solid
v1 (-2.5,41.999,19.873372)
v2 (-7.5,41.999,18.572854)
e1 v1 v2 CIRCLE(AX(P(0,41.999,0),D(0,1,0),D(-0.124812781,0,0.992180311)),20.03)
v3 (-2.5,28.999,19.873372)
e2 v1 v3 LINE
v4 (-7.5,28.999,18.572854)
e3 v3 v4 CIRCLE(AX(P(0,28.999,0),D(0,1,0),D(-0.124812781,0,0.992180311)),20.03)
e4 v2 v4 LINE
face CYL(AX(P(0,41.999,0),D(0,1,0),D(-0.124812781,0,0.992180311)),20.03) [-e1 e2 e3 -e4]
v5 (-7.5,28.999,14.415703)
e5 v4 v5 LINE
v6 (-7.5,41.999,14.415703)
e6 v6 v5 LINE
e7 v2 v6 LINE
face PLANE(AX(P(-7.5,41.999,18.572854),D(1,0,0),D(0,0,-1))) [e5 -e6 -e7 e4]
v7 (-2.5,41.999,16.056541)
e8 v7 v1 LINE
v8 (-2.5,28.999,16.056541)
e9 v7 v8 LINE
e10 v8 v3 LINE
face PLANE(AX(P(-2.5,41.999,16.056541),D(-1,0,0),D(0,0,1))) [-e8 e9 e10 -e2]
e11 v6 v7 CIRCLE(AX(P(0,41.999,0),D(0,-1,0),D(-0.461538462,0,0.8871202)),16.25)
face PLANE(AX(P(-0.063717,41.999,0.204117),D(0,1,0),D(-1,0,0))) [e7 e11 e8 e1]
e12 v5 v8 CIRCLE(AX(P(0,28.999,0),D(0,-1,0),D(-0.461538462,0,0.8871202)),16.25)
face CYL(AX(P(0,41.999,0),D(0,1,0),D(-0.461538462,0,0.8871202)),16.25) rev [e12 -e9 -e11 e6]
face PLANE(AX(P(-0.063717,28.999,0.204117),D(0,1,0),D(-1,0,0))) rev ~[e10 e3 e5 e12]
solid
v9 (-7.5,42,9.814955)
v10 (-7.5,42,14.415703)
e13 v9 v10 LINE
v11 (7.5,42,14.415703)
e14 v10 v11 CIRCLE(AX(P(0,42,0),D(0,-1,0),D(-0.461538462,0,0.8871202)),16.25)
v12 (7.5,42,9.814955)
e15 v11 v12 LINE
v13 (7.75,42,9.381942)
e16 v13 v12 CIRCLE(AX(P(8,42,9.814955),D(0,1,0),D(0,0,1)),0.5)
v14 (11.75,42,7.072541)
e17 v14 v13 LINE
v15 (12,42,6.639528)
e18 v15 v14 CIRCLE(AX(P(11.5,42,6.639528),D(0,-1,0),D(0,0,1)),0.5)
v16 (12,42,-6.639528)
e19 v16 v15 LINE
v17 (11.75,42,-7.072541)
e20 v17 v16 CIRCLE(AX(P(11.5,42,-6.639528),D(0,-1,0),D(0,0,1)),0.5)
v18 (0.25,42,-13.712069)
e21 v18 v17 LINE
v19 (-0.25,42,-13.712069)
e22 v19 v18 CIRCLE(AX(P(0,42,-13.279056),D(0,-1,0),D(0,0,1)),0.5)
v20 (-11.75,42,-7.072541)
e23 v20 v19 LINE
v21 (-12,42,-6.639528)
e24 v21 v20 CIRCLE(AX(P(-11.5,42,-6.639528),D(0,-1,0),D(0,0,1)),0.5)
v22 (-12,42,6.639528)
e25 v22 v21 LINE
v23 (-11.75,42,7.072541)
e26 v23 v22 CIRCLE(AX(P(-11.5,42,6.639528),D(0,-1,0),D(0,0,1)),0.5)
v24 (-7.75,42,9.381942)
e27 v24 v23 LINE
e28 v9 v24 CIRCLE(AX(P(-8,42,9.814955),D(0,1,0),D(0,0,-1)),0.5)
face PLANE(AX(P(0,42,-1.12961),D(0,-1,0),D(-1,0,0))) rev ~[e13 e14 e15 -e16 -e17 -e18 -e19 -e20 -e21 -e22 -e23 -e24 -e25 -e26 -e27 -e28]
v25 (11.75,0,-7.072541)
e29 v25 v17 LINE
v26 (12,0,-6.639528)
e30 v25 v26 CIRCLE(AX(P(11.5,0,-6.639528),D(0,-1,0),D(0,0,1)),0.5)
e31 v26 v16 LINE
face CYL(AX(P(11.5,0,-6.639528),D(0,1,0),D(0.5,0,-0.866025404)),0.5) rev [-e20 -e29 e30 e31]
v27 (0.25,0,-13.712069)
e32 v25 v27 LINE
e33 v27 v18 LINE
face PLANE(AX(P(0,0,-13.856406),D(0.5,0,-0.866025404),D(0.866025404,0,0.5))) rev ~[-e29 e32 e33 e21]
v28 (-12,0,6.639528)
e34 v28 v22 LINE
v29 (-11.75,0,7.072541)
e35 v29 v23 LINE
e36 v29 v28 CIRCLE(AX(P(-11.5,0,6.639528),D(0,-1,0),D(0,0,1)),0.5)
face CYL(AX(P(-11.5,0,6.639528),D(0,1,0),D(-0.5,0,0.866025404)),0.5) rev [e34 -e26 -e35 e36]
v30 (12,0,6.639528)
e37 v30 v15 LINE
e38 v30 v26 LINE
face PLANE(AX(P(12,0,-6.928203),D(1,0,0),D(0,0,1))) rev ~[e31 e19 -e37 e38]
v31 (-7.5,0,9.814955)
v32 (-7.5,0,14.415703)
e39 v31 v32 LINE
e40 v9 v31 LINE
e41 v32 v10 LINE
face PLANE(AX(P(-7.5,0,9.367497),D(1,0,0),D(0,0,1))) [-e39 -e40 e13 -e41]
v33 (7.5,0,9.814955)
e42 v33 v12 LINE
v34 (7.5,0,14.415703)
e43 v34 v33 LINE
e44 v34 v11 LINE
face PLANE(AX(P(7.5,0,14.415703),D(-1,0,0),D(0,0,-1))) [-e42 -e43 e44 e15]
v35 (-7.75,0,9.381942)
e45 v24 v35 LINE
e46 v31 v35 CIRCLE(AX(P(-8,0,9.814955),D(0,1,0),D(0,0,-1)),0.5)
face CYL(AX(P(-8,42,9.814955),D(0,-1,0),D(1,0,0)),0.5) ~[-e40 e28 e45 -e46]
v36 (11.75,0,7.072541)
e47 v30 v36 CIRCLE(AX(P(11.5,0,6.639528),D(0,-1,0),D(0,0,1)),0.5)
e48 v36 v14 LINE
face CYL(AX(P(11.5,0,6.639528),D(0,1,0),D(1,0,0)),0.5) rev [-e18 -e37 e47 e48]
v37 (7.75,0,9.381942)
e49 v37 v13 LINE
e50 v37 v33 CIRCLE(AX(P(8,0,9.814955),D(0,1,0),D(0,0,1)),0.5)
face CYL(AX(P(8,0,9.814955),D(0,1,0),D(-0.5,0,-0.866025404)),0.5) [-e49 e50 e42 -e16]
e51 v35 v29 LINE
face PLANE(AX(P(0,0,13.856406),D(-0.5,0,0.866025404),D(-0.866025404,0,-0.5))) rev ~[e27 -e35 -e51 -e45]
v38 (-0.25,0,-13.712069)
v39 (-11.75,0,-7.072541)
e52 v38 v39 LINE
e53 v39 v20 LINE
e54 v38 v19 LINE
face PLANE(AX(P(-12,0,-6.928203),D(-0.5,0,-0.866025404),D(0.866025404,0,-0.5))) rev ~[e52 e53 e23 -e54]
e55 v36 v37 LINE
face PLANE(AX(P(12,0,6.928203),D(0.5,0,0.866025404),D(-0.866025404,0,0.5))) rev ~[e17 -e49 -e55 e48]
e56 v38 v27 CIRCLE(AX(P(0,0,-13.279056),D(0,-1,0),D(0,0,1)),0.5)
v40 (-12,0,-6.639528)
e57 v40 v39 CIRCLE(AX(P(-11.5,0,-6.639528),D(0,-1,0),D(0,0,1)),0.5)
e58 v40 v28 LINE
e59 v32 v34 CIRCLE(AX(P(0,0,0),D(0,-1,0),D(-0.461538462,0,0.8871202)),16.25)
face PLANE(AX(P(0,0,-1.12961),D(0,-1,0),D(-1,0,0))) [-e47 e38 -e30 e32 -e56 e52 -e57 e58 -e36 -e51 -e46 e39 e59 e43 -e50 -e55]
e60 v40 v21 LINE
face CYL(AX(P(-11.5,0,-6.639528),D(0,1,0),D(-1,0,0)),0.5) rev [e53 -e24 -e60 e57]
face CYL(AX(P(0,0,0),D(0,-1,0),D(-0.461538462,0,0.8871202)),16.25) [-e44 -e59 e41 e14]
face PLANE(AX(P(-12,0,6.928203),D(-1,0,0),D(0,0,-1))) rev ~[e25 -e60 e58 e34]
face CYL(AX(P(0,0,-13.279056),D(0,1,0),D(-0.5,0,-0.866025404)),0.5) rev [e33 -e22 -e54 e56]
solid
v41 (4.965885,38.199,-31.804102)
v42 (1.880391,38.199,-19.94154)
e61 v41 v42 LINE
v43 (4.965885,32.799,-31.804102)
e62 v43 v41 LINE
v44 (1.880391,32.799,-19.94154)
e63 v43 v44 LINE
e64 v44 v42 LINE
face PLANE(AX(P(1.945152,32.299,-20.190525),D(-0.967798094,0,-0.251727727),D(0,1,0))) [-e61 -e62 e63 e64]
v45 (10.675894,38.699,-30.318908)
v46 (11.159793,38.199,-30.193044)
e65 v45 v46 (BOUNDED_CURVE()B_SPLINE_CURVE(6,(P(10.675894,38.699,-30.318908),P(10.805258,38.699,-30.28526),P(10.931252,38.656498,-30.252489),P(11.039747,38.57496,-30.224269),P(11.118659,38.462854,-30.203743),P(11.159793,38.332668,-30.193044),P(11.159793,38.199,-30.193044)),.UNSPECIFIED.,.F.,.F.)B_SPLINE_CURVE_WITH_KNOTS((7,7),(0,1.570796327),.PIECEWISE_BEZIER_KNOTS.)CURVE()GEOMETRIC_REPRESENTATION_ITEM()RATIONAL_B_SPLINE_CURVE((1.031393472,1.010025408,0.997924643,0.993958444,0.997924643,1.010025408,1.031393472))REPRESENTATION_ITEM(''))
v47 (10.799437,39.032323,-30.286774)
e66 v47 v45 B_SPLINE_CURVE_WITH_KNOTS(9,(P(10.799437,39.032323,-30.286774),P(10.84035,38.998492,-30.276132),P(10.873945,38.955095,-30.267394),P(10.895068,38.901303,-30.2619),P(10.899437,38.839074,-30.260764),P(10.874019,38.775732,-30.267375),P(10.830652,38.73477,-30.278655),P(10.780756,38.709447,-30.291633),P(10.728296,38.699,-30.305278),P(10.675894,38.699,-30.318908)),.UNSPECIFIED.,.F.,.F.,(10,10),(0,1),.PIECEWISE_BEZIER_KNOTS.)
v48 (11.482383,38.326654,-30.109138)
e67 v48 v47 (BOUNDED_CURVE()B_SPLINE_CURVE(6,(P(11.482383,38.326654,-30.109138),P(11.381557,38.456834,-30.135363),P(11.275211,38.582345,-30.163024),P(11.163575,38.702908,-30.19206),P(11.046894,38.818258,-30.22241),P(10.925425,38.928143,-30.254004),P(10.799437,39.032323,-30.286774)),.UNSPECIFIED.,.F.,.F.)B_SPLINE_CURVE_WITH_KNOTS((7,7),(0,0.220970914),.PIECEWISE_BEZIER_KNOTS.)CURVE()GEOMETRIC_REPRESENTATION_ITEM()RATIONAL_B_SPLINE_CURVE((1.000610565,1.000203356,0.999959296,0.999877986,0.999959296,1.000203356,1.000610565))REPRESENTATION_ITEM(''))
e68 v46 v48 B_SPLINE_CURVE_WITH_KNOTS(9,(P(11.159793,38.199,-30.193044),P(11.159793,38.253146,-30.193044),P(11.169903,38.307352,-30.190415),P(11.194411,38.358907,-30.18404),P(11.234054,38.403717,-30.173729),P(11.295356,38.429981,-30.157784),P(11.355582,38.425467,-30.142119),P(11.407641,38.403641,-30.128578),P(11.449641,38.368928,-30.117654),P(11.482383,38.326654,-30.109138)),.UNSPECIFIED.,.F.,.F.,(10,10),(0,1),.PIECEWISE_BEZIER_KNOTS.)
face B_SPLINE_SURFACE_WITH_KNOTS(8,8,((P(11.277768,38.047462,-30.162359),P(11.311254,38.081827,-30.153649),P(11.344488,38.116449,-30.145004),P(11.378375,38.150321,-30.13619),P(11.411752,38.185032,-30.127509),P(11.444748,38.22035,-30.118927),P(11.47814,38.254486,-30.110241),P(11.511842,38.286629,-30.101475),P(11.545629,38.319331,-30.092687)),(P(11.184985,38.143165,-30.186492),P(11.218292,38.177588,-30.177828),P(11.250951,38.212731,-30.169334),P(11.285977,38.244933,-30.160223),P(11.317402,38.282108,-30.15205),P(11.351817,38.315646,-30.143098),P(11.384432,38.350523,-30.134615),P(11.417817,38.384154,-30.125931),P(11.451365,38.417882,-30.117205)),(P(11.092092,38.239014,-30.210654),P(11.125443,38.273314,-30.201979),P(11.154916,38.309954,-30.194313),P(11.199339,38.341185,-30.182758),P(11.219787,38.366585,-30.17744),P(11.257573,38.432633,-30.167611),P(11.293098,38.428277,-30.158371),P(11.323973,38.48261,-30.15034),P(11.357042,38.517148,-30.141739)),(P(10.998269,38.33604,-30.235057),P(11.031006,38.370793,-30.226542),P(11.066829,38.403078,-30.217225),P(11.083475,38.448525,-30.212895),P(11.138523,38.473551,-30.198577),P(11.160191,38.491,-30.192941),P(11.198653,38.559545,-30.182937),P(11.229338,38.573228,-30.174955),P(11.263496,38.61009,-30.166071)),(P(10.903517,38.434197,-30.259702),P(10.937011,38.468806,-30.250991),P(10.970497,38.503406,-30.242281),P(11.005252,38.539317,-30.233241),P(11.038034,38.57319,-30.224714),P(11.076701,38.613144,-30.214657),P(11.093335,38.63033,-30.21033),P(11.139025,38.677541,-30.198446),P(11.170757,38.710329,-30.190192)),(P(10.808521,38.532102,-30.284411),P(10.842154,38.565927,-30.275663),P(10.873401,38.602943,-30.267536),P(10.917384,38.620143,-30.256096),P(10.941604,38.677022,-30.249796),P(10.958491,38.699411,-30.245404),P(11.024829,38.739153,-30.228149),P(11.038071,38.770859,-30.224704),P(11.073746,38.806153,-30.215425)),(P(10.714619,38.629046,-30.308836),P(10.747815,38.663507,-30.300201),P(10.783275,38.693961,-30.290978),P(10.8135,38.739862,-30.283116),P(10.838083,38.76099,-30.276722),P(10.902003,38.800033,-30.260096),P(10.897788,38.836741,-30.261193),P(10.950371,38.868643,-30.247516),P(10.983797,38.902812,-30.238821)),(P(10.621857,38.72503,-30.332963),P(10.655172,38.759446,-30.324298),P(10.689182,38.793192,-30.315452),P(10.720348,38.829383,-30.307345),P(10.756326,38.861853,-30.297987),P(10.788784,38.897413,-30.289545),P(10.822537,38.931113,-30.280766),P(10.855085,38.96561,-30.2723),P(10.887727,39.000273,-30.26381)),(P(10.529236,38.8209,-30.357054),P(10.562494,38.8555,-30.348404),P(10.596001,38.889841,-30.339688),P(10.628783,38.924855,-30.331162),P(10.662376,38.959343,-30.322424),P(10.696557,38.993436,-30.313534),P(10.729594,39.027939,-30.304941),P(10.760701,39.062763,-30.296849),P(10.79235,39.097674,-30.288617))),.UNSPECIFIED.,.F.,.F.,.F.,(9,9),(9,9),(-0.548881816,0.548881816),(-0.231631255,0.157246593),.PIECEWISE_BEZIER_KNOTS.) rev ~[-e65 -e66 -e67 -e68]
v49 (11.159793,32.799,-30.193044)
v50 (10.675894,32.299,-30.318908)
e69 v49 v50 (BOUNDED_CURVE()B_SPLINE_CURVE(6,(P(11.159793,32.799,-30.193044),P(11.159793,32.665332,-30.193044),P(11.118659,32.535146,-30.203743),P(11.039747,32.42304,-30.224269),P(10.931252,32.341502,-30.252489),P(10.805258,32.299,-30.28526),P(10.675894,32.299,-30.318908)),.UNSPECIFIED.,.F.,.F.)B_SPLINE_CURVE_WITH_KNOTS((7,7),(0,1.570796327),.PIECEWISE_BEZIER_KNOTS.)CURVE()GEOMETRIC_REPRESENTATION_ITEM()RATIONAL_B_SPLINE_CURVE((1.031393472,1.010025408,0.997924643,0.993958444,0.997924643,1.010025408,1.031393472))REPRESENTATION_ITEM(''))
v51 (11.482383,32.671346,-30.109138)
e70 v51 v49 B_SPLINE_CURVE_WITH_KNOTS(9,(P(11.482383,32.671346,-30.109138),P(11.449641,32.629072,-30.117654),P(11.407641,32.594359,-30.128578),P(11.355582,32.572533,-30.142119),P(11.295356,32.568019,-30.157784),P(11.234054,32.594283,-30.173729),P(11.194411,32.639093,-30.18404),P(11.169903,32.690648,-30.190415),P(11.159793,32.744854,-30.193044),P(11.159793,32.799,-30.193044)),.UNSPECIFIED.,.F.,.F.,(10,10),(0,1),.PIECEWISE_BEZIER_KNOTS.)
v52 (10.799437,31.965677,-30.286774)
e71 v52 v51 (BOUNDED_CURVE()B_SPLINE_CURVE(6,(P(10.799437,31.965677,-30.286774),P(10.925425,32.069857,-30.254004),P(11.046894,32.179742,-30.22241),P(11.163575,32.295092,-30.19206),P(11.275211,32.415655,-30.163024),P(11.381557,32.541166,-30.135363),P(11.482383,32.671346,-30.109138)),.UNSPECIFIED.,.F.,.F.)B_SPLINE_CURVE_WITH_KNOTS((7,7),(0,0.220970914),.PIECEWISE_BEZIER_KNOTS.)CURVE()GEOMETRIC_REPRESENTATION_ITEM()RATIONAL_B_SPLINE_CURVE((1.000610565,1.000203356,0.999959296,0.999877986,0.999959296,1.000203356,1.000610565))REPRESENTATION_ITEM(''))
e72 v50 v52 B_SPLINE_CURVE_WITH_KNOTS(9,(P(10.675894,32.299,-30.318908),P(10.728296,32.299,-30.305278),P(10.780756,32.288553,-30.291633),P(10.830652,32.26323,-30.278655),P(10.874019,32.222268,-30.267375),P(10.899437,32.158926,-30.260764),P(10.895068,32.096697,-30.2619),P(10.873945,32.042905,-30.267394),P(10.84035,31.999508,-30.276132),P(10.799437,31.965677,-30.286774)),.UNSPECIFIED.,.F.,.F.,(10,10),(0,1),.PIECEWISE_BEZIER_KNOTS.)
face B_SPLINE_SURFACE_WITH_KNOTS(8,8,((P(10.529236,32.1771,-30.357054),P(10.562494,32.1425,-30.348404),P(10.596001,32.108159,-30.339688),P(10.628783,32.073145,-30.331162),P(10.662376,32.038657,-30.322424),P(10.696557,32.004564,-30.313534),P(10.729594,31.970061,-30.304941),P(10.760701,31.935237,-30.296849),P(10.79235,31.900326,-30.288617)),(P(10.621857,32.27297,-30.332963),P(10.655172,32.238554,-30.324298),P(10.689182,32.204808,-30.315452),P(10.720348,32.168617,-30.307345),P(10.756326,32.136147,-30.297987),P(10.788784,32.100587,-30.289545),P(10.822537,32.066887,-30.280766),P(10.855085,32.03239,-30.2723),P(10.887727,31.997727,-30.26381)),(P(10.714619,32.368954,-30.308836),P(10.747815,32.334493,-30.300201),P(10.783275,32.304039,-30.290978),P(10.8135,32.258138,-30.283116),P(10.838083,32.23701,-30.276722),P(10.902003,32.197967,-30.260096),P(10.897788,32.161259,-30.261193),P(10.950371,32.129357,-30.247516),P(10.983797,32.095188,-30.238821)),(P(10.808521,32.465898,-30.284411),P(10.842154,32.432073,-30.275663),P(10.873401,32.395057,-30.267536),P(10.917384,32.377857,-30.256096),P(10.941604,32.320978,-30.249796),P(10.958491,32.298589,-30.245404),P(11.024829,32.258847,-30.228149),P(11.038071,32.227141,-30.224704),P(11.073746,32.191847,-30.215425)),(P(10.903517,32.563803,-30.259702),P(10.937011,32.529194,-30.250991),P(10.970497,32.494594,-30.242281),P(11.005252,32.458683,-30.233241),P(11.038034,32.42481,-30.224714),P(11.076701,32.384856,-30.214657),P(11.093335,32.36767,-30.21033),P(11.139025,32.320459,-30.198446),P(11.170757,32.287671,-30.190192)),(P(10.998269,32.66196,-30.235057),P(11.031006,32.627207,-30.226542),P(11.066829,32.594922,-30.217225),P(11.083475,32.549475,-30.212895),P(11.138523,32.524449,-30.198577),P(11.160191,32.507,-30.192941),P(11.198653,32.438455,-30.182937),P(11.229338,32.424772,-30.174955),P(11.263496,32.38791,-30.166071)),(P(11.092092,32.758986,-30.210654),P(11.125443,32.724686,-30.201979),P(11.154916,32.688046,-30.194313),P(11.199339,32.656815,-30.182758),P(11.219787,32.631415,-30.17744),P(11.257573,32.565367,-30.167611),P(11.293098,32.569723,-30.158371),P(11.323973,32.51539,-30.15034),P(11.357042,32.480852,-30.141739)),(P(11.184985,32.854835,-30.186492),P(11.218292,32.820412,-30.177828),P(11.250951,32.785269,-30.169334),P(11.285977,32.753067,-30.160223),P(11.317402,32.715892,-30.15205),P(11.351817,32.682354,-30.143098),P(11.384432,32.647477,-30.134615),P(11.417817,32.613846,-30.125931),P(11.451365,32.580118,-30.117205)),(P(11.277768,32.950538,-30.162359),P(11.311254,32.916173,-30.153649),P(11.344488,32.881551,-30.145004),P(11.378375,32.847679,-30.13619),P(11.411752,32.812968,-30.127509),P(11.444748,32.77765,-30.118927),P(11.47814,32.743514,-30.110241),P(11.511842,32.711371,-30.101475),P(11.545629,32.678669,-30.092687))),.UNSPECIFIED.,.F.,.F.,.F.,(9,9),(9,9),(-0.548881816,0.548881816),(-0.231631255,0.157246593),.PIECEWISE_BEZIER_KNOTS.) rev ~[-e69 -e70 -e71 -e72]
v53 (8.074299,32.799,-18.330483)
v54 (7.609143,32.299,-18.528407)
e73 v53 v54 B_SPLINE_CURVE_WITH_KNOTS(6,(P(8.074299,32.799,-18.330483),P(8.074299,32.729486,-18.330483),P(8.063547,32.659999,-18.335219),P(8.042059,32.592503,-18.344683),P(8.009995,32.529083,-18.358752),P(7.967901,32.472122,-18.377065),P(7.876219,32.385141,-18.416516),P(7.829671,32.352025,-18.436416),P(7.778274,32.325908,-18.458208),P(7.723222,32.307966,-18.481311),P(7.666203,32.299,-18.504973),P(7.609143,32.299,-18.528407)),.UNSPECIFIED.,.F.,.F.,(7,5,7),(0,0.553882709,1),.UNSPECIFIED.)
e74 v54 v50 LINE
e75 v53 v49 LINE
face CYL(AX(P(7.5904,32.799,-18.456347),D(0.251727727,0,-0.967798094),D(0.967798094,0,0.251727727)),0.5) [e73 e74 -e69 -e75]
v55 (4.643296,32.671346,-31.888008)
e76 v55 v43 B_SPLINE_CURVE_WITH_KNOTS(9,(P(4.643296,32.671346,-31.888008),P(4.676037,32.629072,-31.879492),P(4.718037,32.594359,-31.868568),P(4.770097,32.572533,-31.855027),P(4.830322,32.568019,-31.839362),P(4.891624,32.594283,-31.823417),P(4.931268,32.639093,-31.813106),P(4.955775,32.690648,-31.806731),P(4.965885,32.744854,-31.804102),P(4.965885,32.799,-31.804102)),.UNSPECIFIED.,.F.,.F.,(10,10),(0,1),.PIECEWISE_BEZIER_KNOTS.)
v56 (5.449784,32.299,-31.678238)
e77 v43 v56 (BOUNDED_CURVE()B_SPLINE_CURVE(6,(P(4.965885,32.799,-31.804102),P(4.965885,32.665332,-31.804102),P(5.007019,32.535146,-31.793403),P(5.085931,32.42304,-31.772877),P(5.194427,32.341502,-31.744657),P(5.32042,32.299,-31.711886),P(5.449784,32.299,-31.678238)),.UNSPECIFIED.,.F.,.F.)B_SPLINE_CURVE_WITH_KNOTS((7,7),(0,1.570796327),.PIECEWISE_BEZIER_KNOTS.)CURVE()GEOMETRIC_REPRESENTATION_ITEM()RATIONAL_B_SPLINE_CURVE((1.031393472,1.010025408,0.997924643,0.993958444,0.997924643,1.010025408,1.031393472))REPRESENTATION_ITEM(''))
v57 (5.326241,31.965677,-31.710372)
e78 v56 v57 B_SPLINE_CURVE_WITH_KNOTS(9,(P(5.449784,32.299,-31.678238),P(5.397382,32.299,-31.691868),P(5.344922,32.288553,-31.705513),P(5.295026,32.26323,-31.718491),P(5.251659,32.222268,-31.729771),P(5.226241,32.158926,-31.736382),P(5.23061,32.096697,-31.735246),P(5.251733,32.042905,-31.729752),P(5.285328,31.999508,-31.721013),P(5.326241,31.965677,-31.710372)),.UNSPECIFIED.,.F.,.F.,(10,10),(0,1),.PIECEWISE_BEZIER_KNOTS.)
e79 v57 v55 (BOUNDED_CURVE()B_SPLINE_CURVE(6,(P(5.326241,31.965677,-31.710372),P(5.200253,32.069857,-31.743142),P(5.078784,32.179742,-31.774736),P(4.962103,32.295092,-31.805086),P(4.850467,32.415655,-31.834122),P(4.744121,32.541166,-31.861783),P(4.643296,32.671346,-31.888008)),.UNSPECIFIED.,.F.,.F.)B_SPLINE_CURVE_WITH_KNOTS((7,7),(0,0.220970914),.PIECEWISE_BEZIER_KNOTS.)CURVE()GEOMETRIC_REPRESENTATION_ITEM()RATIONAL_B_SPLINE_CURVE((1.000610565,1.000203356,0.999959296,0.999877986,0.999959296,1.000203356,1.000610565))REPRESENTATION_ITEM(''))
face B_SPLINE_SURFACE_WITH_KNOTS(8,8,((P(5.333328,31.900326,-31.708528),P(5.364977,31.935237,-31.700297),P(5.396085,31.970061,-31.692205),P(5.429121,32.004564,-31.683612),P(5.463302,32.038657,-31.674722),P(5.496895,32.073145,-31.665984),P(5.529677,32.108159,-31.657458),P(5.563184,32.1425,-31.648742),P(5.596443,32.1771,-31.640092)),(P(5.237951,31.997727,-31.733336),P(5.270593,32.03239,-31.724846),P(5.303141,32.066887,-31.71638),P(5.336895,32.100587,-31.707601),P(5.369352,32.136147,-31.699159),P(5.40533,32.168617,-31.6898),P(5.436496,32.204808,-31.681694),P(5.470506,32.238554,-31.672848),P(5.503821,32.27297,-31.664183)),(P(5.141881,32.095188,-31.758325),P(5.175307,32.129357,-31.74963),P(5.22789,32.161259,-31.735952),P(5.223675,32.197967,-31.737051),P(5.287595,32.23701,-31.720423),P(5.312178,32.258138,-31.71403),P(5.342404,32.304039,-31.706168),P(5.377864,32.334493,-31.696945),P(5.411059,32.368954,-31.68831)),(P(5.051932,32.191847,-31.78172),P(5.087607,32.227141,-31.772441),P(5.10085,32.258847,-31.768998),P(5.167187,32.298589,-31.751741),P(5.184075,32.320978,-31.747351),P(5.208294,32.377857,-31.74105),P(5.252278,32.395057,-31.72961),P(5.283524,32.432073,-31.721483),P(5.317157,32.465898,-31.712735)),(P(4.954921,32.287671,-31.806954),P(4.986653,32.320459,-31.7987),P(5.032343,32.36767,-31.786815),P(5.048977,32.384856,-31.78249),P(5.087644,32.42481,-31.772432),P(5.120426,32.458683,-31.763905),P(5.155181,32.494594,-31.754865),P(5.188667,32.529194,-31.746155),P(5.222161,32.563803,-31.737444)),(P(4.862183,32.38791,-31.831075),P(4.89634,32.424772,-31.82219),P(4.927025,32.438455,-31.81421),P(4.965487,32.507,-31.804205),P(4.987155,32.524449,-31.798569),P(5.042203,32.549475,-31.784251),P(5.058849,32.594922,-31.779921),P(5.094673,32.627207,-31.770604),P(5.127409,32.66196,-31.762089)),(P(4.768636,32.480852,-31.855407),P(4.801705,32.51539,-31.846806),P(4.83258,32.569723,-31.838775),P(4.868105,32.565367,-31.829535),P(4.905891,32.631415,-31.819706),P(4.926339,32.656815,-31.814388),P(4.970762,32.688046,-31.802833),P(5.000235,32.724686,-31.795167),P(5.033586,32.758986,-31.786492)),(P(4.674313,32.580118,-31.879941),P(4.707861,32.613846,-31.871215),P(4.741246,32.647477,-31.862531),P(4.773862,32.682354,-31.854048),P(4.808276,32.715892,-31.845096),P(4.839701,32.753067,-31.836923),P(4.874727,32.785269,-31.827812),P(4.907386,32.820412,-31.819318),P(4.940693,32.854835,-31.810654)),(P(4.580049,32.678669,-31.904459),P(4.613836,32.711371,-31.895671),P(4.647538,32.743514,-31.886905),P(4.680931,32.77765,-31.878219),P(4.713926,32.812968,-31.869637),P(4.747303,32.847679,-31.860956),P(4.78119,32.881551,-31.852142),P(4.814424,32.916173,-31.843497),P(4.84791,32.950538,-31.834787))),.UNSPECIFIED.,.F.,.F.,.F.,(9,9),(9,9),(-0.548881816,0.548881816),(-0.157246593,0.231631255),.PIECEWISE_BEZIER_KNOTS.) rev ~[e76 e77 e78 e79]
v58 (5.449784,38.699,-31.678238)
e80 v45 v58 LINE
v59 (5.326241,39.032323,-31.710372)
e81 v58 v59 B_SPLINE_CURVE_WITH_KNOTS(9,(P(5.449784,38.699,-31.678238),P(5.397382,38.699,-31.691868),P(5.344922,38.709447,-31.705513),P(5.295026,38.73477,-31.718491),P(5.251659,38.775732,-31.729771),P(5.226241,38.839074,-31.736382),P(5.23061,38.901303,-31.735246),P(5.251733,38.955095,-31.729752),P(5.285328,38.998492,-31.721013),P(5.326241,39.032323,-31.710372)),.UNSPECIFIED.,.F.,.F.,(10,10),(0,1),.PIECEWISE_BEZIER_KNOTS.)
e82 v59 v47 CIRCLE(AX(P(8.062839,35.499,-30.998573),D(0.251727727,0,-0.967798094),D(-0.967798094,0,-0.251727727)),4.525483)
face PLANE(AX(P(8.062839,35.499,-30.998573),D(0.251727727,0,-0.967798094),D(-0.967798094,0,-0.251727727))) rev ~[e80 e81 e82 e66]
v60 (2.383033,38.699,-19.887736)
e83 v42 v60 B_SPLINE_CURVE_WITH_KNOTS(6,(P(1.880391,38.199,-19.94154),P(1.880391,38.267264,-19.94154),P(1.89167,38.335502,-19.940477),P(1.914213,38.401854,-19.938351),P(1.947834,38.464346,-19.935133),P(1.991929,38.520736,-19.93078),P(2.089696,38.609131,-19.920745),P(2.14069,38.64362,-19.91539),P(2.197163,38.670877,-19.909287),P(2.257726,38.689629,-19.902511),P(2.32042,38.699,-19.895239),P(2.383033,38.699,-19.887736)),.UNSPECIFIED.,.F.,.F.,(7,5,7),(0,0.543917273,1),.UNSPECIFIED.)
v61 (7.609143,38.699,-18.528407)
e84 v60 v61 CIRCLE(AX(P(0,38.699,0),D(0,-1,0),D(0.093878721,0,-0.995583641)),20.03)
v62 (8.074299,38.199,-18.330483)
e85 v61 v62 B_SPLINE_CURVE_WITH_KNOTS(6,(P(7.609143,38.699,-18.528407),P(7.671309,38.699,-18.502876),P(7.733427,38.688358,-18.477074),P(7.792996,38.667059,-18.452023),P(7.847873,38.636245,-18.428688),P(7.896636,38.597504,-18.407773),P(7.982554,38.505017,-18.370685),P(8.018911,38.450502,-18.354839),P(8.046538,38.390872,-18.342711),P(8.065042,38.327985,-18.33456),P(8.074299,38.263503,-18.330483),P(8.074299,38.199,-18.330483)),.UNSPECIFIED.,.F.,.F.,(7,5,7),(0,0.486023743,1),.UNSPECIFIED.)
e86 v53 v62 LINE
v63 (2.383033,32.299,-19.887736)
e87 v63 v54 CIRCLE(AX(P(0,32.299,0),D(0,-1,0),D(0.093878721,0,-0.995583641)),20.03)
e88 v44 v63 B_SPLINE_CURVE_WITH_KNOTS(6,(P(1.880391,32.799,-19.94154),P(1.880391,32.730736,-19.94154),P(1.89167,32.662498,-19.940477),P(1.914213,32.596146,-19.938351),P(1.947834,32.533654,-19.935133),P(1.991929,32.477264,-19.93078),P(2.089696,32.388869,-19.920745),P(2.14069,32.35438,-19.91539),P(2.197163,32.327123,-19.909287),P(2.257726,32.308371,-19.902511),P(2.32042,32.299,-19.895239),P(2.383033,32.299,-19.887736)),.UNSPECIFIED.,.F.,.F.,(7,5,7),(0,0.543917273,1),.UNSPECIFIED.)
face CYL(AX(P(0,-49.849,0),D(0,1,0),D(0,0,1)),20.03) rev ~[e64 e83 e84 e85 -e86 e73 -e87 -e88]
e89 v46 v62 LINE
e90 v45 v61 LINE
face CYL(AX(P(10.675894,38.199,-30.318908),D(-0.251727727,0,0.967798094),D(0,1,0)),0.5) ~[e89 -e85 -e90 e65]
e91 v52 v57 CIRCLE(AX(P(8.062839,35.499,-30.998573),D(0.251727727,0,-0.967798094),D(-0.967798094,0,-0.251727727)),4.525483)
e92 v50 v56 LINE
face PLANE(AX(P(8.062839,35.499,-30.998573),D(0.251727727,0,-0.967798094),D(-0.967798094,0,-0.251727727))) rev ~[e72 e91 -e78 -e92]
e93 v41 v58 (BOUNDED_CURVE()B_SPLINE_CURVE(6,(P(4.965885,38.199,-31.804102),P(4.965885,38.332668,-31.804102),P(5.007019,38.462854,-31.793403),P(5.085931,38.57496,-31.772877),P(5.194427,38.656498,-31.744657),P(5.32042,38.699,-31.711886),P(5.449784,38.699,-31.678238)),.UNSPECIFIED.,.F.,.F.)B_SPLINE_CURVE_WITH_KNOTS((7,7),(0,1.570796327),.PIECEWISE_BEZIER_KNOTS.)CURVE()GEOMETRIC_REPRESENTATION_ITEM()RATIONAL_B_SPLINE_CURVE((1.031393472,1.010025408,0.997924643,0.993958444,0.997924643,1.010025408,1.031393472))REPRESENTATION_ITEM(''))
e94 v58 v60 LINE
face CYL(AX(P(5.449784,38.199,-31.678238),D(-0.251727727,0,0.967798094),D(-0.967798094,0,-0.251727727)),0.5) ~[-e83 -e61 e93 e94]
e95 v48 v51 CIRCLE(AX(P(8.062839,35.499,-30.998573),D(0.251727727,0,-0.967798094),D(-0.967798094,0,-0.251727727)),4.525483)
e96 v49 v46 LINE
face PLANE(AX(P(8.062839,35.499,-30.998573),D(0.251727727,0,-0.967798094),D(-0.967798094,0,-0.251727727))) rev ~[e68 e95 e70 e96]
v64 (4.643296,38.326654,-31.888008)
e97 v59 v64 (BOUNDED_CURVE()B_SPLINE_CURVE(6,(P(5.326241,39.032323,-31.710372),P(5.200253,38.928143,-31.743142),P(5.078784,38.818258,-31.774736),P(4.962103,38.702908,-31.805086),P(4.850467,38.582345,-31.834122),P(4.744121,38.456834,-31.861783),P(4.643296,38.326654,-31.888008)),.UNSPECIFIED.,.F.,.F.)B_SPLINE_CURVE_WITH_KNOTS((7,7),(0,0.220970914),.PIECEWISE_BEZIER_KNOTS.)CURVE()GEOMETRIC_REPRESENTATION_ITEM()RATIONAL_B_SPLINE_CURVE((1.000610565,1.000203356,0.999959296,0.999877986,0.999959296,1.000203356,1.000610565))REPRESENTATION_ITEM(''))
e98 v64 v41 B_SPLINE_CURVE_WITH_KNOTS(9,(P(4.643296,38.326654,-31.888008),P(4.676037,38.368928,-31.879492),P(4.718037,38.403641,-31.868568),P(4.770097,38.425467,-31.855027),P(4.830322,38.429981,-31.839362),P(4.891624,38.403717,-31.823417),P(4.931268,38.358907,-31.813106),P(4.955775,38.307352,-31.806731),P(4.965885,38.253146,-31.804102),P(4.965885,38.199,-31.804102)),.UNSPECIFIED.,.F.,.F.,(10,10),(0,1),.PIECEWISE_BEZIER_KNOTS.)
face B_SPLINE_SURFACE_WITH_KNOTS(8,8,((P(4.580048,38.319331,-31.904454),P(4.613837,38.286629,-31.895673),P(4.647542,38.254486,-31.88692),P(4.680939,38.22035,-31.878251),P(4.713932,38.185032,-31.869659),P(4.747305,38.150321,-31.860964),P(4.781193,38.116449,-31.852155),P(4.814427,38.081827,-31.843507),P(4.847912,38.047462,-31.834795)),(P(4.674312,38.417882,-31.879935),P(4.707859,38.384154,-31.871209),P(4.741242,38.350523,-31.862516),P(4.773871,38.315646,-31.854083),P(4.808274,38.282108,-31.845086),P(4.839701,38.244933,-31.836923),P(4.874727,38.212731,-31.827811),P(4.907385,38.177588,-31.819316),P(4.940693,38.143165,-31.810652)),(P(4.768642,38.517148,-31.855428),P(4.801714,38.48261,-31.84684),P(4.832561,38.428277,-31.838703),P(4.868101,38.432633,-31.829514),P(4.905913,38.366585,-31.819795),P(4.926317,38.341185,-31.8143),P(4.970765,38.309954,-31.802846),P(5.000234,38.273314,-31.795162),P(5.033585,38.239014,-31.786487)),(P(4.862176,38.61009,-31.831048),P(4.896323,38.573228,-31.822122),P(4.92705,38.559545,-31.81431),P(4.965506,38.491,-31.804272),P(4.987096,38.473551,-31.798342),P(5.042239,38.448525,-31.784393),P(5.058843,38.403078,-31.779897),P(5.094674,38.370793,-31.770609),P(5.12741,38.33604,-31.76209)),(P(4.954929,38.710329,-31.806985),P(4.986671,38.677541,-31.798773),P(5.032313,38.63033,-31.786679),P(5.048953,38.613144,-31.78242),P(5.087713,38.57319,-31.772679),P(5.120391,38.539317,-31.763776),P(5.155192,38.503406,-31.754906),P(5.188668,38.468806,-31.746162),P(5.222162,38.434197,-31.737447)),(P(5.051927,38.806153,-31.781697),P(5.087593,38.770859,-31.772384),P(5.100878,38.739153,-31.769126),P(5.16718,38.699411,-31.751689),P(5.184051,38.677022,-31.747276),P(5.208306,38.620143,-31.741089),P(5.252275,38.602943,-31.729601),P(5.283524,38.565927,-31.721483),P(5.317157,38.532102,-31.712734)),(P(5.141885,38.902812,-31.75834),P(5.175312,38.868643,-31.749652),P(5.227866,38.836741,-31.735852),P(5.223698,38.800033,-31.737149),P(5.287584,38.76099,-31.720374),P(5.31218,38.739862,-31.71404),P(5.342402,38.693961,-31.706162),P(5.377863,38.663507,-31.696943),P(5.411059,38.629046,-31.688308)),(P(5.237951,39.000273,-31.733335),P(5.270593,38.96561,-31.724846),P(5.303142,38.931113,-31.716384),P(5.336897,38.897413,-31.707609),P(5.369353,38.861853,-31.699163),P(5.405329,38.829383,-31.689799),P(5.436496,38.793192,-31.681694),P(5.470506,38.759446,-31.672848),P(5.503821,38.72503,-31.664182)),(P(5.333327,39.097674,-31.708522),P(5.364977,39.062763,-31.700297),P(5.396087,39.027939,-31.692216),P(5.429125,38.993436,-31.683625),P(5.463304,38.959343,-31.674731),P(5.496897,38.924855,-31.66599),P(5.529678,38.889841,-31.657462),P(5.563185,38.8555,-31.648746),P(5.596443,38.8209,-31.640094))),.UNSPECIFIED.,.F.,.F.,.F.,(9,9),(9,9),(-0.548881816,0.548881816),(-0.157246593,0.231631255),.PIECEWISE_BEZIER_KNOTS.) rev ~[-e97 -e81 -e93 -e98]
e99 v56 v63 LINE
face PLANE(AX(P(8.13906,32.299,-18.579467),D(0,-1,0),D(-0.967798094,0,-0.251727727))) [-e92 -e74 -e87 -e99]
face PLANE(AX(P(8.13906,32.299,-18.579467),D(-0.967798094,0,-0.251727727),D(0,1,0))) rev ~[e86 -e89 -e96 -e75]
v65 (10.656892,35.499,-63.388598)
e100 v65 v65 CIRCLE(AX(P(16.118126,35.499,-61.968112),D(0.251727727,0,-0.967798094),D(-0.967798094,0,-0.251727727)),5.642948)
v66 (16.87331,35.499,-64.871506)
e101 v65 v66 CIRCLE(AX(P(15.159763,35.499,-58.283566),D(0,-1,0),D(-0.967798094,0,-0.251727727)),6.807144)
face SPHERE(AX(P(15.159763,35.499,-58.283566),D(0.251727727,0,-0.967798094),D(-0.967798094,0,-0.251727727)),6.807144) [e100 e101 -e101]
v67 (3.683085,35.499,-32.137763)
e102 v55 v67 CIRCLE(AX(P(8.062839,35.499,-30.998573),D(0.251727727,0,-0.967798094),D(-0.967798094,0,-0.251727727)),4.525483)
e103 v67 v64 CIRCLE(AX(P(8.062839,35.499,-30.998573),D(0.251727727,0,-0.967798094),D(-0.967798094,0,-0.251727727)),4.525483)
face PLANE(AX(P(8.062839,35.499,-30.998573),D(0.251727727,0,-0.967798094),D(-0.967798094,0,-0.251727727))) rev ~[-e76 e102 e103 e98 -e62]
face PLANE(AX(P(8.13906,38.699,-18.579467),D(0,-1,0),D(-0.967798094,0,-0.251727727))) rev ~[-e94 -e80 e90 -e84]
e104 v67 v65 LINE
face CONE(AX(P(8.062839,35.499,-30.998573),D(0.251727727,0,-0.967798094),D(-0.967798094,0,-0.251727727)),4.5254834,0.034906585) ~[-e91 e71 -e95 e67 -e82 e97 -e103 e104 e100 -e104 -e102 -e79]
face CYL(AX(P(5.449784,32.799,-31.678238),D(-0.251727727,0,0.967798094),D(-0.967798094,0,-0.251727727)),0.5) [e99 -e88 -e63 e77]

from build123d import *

# Parameters (mm, degrees)
EXTRUDE3_DEPTH                  = 42
EXTRUDE4_DEPTH                  = 13
SKETCH22_W                      = 6.4
SKETCH22_H                      = 6.4
EXTRUDE5_DEPTH                  = 12
EXTRUDE5_DIRECTION_2_REACH      = 64.818
EXTRUDE5_DIRECTION_2_END_RADIUS = 20.03
SKETCH23_R                      = 4.5254834
EXTRUDE6_DEPTH                  = 32
EXTRUDE6_DRAFT                  = -2
DOME1_FACE_RADIUS               = 5.642948023
DOME1_HEIGHT                    = 3
CUT_EXTRUDE7_DEPTH              = 81.414359668
FILLET2_R                       = 0.5
FILLET3_R                       = 0.5


with BuildPart() as part:
    # Sketch20 → Extrude3 (new body)
    with BuildSketch(Plane(origin=(0, 0, 0), x_dir=(1, 0, 0), z_dir=(0, 1, 0))):
        with BuildLine():
            Line((-7.5, -9.367496998), (-7.5, -14.415703243))
            ThreePointArc((-7.5, -14.415703243), (0, 16.25), (7.5, -14.415703243))
            Line((7.5, -14.415703243), (7.5, -9.367496998))
            ThreePointArc((7.5, -9.367496998), (0, 12), (-7.5, -9.367496998))
        make_face()
    extrude(amount=EXTRUDE3_DEPTH)

    # Sketch24 → Cut-Extrude7 (cut, through all)
    with BuildSketch(Plane.XZ):
        Polygon((-12, 6.92820323), (-12, -6.92820323), (0, -13.856406461), (12, -6.92820323), (12, 6.92820323), (0, 13.856406461), align=None)
    extrude(amount=-CUT_EXTRUDE7_DEPTH, mode=Mode.SUBTRACT)

    # Fillet3
    fillet3_edges = [part.edges().sort_by_distance(p)[0] for p in [
        (-7.5, 21, 9.526279442),
        (-12, 21, 6.92820323),
        (7.5, 21, 9.526279442),
        (12, 21, 6.92820323),
        (12, 21, -6.92820323),
        (0, 21, -13.856406461),
        (-12, 21, -6.92820323),
    ]]
    fillet(fillet3_edges, radius=FILLET3_R)


with BuildPart() as body_2:
    # Sketch21 → Extrude4 (new body)
    with BuildSketch(Plane(origin=(0, 41.999, 0), x_dir=(-1, 0, 0), z_dir=(0, 1, 0))):
        with BuildLine():
            Line((2.5, 16.056540723), (2.5, 19.873371631))
            ThreePointArc((2.5, 19.873371631), (-5.042106368, -19.384995831), (7.5, 18.572853846))
            Line((7.5, 18.572853846), (7.5, 14.415703243))
            ThreePointArc((7.5, 14.415703243), (-5.066861643, -15.439864413), (2.5, 16.056540723))
        make_face()
    extrude(amount=-EXTRUDE4_DEPTH)


with BuildPart() as body_3:
    # Sketch22 → Extrude5 (new body)
    with BuildSketch(Plane(origin=(5.042106368, 41.999, -19.384995831), x_dir=(-0.9677980944146168, 0, -0.2517277268149784), z_dir=(0.2517277268149784, 0, -0.9677980944146168))):
        with Locations((0, -6.5)):
            Rectangle(SKETCH22_W, SKETCH22_H)
    extrude(amount=EXTRUDE5_DEPTH)

    # Extrude5 direction 2: up to this cylinder (the profile starts outside it)
    extrude5_direction_2_end = Plane(origin=(0, 35.499, 0), z_dir=(0, 1, 0)) * Cylinder(EXTRUDE5_DIRECTION_2_END_RADIUS, 170.696, mode=Mode.PRIVATE)
    # Sketch22 → Extrude5 direction 2 (add, up to the surface)
    with BuildSketch(Plane(origin=(5.042106368, 41.999, -19.384995831), x_dir=(-0.9677980944146168, 0, -0.2517277268149784), z_dir=(0.2517277268149784, 0, -0.9677980944146168)), mode=Mode.PRIVATE) as extrude5_direction_2_sk1:
        with Locations((0, -6.5)):
            Rectangle(SKETCH22_W, SKETCH22_H)
    extrude5_direction_2_tool1 = extrude(extrude5_direction_2_sk1.sketch, amount=-EXTRUDE5_DIRECTION_2_REACH, mode=Mode.PRIVATE) - extrude5_direction_2_end
    add(extrude5_direction_2_tool1.solids().sort_by_distance((5.042106, 35.499, -19.384996))[0])
    add(extrude5_direction_2_tool1.solids().sort_by_distance((5.042106, 35.499, -19.384996))[1])


with BuildPart() as extrude6_tool:
    # Sketch23 → Extrude6 (with draft: the straight prism first)
    with BuildSketch(Plane(origin=(8.06283909, 0, -30.998572964), x_dir=(-0.9677980944146167, -1.6827536930173812e-15, -0.25172772681497885), z_dir=(0.25172772681497885, 0, -0.9677980944146167))):
        with Locations((0, 35.499)):
            Circle(SKETCH23_R)
    extrude(amount=EXTRUDE6_DEPTH)
    # Extrude6: the draft: its side faces are tilted about the plane it starts from
    extrude6_sides = [extrude6_tool.faces().sort_by_distance(p)[0] for p in [
        (16.470236929, 35.499, -45.344152826),
    ]]
    draft(extrude6_sides, Plane(origin=(8.06283909, 0, -30.998572964), x_dir=(-0.9677980944146167, -1.6827536930173812e-15, -0.25172772681497885), z_dir=(0.25172772681497885, 0, -0.9677980944146167)), EXTRUDE6_DRAFT)


with BuildPart() as body_3_1:
    add(body_3.part)

    # Extrude6: add extrude6_tool
    add(extrude6_tool.part)

    # Dome1: a dome of height H over a round flat face of radius A is a cap of a sphere of radius (A * A + H * H) / (2 * H)
    dome1_r = (DOME1_FACE_RADIUS * DOME1_FACE_RADIUS + DOME1_HEIGHT * DOME1_HEIGHT) / (2 * DOME1_HEIGHT)
    dome1_base = Plane((16.118126348, 35.499, -61.968111985), z_dir=(0.251727726815, 0, -0.967798094415))
    with Locations(dome1_base.offset(DOME1_HEIGHT - dome1_r)):
        dome1_ball = Sphere(dome1_r, mode=Mode.PRIVATE)
    add(split(dome1_ball, bisect_by=dome1_base, keep=Keep.TOP, mode=Mode.PRIVATE))

    # Fillet2
    fillet2_edges = [body_3_1.edges().sort_by_distance(p)[0] for p in [
        (9.617045789, 38.699, -24.261763556),
        (3.423137985, 38.699, -25.872821007),
        (3.423137985, 32.299, -25.872821007),
        (9.617045789, 32.299, -24.261763556),
    ]]
    fillet(fillet2_edges, radius=FILLET2_R)


solid = Compound([part.part, body_2.part, body_3_1.part])
